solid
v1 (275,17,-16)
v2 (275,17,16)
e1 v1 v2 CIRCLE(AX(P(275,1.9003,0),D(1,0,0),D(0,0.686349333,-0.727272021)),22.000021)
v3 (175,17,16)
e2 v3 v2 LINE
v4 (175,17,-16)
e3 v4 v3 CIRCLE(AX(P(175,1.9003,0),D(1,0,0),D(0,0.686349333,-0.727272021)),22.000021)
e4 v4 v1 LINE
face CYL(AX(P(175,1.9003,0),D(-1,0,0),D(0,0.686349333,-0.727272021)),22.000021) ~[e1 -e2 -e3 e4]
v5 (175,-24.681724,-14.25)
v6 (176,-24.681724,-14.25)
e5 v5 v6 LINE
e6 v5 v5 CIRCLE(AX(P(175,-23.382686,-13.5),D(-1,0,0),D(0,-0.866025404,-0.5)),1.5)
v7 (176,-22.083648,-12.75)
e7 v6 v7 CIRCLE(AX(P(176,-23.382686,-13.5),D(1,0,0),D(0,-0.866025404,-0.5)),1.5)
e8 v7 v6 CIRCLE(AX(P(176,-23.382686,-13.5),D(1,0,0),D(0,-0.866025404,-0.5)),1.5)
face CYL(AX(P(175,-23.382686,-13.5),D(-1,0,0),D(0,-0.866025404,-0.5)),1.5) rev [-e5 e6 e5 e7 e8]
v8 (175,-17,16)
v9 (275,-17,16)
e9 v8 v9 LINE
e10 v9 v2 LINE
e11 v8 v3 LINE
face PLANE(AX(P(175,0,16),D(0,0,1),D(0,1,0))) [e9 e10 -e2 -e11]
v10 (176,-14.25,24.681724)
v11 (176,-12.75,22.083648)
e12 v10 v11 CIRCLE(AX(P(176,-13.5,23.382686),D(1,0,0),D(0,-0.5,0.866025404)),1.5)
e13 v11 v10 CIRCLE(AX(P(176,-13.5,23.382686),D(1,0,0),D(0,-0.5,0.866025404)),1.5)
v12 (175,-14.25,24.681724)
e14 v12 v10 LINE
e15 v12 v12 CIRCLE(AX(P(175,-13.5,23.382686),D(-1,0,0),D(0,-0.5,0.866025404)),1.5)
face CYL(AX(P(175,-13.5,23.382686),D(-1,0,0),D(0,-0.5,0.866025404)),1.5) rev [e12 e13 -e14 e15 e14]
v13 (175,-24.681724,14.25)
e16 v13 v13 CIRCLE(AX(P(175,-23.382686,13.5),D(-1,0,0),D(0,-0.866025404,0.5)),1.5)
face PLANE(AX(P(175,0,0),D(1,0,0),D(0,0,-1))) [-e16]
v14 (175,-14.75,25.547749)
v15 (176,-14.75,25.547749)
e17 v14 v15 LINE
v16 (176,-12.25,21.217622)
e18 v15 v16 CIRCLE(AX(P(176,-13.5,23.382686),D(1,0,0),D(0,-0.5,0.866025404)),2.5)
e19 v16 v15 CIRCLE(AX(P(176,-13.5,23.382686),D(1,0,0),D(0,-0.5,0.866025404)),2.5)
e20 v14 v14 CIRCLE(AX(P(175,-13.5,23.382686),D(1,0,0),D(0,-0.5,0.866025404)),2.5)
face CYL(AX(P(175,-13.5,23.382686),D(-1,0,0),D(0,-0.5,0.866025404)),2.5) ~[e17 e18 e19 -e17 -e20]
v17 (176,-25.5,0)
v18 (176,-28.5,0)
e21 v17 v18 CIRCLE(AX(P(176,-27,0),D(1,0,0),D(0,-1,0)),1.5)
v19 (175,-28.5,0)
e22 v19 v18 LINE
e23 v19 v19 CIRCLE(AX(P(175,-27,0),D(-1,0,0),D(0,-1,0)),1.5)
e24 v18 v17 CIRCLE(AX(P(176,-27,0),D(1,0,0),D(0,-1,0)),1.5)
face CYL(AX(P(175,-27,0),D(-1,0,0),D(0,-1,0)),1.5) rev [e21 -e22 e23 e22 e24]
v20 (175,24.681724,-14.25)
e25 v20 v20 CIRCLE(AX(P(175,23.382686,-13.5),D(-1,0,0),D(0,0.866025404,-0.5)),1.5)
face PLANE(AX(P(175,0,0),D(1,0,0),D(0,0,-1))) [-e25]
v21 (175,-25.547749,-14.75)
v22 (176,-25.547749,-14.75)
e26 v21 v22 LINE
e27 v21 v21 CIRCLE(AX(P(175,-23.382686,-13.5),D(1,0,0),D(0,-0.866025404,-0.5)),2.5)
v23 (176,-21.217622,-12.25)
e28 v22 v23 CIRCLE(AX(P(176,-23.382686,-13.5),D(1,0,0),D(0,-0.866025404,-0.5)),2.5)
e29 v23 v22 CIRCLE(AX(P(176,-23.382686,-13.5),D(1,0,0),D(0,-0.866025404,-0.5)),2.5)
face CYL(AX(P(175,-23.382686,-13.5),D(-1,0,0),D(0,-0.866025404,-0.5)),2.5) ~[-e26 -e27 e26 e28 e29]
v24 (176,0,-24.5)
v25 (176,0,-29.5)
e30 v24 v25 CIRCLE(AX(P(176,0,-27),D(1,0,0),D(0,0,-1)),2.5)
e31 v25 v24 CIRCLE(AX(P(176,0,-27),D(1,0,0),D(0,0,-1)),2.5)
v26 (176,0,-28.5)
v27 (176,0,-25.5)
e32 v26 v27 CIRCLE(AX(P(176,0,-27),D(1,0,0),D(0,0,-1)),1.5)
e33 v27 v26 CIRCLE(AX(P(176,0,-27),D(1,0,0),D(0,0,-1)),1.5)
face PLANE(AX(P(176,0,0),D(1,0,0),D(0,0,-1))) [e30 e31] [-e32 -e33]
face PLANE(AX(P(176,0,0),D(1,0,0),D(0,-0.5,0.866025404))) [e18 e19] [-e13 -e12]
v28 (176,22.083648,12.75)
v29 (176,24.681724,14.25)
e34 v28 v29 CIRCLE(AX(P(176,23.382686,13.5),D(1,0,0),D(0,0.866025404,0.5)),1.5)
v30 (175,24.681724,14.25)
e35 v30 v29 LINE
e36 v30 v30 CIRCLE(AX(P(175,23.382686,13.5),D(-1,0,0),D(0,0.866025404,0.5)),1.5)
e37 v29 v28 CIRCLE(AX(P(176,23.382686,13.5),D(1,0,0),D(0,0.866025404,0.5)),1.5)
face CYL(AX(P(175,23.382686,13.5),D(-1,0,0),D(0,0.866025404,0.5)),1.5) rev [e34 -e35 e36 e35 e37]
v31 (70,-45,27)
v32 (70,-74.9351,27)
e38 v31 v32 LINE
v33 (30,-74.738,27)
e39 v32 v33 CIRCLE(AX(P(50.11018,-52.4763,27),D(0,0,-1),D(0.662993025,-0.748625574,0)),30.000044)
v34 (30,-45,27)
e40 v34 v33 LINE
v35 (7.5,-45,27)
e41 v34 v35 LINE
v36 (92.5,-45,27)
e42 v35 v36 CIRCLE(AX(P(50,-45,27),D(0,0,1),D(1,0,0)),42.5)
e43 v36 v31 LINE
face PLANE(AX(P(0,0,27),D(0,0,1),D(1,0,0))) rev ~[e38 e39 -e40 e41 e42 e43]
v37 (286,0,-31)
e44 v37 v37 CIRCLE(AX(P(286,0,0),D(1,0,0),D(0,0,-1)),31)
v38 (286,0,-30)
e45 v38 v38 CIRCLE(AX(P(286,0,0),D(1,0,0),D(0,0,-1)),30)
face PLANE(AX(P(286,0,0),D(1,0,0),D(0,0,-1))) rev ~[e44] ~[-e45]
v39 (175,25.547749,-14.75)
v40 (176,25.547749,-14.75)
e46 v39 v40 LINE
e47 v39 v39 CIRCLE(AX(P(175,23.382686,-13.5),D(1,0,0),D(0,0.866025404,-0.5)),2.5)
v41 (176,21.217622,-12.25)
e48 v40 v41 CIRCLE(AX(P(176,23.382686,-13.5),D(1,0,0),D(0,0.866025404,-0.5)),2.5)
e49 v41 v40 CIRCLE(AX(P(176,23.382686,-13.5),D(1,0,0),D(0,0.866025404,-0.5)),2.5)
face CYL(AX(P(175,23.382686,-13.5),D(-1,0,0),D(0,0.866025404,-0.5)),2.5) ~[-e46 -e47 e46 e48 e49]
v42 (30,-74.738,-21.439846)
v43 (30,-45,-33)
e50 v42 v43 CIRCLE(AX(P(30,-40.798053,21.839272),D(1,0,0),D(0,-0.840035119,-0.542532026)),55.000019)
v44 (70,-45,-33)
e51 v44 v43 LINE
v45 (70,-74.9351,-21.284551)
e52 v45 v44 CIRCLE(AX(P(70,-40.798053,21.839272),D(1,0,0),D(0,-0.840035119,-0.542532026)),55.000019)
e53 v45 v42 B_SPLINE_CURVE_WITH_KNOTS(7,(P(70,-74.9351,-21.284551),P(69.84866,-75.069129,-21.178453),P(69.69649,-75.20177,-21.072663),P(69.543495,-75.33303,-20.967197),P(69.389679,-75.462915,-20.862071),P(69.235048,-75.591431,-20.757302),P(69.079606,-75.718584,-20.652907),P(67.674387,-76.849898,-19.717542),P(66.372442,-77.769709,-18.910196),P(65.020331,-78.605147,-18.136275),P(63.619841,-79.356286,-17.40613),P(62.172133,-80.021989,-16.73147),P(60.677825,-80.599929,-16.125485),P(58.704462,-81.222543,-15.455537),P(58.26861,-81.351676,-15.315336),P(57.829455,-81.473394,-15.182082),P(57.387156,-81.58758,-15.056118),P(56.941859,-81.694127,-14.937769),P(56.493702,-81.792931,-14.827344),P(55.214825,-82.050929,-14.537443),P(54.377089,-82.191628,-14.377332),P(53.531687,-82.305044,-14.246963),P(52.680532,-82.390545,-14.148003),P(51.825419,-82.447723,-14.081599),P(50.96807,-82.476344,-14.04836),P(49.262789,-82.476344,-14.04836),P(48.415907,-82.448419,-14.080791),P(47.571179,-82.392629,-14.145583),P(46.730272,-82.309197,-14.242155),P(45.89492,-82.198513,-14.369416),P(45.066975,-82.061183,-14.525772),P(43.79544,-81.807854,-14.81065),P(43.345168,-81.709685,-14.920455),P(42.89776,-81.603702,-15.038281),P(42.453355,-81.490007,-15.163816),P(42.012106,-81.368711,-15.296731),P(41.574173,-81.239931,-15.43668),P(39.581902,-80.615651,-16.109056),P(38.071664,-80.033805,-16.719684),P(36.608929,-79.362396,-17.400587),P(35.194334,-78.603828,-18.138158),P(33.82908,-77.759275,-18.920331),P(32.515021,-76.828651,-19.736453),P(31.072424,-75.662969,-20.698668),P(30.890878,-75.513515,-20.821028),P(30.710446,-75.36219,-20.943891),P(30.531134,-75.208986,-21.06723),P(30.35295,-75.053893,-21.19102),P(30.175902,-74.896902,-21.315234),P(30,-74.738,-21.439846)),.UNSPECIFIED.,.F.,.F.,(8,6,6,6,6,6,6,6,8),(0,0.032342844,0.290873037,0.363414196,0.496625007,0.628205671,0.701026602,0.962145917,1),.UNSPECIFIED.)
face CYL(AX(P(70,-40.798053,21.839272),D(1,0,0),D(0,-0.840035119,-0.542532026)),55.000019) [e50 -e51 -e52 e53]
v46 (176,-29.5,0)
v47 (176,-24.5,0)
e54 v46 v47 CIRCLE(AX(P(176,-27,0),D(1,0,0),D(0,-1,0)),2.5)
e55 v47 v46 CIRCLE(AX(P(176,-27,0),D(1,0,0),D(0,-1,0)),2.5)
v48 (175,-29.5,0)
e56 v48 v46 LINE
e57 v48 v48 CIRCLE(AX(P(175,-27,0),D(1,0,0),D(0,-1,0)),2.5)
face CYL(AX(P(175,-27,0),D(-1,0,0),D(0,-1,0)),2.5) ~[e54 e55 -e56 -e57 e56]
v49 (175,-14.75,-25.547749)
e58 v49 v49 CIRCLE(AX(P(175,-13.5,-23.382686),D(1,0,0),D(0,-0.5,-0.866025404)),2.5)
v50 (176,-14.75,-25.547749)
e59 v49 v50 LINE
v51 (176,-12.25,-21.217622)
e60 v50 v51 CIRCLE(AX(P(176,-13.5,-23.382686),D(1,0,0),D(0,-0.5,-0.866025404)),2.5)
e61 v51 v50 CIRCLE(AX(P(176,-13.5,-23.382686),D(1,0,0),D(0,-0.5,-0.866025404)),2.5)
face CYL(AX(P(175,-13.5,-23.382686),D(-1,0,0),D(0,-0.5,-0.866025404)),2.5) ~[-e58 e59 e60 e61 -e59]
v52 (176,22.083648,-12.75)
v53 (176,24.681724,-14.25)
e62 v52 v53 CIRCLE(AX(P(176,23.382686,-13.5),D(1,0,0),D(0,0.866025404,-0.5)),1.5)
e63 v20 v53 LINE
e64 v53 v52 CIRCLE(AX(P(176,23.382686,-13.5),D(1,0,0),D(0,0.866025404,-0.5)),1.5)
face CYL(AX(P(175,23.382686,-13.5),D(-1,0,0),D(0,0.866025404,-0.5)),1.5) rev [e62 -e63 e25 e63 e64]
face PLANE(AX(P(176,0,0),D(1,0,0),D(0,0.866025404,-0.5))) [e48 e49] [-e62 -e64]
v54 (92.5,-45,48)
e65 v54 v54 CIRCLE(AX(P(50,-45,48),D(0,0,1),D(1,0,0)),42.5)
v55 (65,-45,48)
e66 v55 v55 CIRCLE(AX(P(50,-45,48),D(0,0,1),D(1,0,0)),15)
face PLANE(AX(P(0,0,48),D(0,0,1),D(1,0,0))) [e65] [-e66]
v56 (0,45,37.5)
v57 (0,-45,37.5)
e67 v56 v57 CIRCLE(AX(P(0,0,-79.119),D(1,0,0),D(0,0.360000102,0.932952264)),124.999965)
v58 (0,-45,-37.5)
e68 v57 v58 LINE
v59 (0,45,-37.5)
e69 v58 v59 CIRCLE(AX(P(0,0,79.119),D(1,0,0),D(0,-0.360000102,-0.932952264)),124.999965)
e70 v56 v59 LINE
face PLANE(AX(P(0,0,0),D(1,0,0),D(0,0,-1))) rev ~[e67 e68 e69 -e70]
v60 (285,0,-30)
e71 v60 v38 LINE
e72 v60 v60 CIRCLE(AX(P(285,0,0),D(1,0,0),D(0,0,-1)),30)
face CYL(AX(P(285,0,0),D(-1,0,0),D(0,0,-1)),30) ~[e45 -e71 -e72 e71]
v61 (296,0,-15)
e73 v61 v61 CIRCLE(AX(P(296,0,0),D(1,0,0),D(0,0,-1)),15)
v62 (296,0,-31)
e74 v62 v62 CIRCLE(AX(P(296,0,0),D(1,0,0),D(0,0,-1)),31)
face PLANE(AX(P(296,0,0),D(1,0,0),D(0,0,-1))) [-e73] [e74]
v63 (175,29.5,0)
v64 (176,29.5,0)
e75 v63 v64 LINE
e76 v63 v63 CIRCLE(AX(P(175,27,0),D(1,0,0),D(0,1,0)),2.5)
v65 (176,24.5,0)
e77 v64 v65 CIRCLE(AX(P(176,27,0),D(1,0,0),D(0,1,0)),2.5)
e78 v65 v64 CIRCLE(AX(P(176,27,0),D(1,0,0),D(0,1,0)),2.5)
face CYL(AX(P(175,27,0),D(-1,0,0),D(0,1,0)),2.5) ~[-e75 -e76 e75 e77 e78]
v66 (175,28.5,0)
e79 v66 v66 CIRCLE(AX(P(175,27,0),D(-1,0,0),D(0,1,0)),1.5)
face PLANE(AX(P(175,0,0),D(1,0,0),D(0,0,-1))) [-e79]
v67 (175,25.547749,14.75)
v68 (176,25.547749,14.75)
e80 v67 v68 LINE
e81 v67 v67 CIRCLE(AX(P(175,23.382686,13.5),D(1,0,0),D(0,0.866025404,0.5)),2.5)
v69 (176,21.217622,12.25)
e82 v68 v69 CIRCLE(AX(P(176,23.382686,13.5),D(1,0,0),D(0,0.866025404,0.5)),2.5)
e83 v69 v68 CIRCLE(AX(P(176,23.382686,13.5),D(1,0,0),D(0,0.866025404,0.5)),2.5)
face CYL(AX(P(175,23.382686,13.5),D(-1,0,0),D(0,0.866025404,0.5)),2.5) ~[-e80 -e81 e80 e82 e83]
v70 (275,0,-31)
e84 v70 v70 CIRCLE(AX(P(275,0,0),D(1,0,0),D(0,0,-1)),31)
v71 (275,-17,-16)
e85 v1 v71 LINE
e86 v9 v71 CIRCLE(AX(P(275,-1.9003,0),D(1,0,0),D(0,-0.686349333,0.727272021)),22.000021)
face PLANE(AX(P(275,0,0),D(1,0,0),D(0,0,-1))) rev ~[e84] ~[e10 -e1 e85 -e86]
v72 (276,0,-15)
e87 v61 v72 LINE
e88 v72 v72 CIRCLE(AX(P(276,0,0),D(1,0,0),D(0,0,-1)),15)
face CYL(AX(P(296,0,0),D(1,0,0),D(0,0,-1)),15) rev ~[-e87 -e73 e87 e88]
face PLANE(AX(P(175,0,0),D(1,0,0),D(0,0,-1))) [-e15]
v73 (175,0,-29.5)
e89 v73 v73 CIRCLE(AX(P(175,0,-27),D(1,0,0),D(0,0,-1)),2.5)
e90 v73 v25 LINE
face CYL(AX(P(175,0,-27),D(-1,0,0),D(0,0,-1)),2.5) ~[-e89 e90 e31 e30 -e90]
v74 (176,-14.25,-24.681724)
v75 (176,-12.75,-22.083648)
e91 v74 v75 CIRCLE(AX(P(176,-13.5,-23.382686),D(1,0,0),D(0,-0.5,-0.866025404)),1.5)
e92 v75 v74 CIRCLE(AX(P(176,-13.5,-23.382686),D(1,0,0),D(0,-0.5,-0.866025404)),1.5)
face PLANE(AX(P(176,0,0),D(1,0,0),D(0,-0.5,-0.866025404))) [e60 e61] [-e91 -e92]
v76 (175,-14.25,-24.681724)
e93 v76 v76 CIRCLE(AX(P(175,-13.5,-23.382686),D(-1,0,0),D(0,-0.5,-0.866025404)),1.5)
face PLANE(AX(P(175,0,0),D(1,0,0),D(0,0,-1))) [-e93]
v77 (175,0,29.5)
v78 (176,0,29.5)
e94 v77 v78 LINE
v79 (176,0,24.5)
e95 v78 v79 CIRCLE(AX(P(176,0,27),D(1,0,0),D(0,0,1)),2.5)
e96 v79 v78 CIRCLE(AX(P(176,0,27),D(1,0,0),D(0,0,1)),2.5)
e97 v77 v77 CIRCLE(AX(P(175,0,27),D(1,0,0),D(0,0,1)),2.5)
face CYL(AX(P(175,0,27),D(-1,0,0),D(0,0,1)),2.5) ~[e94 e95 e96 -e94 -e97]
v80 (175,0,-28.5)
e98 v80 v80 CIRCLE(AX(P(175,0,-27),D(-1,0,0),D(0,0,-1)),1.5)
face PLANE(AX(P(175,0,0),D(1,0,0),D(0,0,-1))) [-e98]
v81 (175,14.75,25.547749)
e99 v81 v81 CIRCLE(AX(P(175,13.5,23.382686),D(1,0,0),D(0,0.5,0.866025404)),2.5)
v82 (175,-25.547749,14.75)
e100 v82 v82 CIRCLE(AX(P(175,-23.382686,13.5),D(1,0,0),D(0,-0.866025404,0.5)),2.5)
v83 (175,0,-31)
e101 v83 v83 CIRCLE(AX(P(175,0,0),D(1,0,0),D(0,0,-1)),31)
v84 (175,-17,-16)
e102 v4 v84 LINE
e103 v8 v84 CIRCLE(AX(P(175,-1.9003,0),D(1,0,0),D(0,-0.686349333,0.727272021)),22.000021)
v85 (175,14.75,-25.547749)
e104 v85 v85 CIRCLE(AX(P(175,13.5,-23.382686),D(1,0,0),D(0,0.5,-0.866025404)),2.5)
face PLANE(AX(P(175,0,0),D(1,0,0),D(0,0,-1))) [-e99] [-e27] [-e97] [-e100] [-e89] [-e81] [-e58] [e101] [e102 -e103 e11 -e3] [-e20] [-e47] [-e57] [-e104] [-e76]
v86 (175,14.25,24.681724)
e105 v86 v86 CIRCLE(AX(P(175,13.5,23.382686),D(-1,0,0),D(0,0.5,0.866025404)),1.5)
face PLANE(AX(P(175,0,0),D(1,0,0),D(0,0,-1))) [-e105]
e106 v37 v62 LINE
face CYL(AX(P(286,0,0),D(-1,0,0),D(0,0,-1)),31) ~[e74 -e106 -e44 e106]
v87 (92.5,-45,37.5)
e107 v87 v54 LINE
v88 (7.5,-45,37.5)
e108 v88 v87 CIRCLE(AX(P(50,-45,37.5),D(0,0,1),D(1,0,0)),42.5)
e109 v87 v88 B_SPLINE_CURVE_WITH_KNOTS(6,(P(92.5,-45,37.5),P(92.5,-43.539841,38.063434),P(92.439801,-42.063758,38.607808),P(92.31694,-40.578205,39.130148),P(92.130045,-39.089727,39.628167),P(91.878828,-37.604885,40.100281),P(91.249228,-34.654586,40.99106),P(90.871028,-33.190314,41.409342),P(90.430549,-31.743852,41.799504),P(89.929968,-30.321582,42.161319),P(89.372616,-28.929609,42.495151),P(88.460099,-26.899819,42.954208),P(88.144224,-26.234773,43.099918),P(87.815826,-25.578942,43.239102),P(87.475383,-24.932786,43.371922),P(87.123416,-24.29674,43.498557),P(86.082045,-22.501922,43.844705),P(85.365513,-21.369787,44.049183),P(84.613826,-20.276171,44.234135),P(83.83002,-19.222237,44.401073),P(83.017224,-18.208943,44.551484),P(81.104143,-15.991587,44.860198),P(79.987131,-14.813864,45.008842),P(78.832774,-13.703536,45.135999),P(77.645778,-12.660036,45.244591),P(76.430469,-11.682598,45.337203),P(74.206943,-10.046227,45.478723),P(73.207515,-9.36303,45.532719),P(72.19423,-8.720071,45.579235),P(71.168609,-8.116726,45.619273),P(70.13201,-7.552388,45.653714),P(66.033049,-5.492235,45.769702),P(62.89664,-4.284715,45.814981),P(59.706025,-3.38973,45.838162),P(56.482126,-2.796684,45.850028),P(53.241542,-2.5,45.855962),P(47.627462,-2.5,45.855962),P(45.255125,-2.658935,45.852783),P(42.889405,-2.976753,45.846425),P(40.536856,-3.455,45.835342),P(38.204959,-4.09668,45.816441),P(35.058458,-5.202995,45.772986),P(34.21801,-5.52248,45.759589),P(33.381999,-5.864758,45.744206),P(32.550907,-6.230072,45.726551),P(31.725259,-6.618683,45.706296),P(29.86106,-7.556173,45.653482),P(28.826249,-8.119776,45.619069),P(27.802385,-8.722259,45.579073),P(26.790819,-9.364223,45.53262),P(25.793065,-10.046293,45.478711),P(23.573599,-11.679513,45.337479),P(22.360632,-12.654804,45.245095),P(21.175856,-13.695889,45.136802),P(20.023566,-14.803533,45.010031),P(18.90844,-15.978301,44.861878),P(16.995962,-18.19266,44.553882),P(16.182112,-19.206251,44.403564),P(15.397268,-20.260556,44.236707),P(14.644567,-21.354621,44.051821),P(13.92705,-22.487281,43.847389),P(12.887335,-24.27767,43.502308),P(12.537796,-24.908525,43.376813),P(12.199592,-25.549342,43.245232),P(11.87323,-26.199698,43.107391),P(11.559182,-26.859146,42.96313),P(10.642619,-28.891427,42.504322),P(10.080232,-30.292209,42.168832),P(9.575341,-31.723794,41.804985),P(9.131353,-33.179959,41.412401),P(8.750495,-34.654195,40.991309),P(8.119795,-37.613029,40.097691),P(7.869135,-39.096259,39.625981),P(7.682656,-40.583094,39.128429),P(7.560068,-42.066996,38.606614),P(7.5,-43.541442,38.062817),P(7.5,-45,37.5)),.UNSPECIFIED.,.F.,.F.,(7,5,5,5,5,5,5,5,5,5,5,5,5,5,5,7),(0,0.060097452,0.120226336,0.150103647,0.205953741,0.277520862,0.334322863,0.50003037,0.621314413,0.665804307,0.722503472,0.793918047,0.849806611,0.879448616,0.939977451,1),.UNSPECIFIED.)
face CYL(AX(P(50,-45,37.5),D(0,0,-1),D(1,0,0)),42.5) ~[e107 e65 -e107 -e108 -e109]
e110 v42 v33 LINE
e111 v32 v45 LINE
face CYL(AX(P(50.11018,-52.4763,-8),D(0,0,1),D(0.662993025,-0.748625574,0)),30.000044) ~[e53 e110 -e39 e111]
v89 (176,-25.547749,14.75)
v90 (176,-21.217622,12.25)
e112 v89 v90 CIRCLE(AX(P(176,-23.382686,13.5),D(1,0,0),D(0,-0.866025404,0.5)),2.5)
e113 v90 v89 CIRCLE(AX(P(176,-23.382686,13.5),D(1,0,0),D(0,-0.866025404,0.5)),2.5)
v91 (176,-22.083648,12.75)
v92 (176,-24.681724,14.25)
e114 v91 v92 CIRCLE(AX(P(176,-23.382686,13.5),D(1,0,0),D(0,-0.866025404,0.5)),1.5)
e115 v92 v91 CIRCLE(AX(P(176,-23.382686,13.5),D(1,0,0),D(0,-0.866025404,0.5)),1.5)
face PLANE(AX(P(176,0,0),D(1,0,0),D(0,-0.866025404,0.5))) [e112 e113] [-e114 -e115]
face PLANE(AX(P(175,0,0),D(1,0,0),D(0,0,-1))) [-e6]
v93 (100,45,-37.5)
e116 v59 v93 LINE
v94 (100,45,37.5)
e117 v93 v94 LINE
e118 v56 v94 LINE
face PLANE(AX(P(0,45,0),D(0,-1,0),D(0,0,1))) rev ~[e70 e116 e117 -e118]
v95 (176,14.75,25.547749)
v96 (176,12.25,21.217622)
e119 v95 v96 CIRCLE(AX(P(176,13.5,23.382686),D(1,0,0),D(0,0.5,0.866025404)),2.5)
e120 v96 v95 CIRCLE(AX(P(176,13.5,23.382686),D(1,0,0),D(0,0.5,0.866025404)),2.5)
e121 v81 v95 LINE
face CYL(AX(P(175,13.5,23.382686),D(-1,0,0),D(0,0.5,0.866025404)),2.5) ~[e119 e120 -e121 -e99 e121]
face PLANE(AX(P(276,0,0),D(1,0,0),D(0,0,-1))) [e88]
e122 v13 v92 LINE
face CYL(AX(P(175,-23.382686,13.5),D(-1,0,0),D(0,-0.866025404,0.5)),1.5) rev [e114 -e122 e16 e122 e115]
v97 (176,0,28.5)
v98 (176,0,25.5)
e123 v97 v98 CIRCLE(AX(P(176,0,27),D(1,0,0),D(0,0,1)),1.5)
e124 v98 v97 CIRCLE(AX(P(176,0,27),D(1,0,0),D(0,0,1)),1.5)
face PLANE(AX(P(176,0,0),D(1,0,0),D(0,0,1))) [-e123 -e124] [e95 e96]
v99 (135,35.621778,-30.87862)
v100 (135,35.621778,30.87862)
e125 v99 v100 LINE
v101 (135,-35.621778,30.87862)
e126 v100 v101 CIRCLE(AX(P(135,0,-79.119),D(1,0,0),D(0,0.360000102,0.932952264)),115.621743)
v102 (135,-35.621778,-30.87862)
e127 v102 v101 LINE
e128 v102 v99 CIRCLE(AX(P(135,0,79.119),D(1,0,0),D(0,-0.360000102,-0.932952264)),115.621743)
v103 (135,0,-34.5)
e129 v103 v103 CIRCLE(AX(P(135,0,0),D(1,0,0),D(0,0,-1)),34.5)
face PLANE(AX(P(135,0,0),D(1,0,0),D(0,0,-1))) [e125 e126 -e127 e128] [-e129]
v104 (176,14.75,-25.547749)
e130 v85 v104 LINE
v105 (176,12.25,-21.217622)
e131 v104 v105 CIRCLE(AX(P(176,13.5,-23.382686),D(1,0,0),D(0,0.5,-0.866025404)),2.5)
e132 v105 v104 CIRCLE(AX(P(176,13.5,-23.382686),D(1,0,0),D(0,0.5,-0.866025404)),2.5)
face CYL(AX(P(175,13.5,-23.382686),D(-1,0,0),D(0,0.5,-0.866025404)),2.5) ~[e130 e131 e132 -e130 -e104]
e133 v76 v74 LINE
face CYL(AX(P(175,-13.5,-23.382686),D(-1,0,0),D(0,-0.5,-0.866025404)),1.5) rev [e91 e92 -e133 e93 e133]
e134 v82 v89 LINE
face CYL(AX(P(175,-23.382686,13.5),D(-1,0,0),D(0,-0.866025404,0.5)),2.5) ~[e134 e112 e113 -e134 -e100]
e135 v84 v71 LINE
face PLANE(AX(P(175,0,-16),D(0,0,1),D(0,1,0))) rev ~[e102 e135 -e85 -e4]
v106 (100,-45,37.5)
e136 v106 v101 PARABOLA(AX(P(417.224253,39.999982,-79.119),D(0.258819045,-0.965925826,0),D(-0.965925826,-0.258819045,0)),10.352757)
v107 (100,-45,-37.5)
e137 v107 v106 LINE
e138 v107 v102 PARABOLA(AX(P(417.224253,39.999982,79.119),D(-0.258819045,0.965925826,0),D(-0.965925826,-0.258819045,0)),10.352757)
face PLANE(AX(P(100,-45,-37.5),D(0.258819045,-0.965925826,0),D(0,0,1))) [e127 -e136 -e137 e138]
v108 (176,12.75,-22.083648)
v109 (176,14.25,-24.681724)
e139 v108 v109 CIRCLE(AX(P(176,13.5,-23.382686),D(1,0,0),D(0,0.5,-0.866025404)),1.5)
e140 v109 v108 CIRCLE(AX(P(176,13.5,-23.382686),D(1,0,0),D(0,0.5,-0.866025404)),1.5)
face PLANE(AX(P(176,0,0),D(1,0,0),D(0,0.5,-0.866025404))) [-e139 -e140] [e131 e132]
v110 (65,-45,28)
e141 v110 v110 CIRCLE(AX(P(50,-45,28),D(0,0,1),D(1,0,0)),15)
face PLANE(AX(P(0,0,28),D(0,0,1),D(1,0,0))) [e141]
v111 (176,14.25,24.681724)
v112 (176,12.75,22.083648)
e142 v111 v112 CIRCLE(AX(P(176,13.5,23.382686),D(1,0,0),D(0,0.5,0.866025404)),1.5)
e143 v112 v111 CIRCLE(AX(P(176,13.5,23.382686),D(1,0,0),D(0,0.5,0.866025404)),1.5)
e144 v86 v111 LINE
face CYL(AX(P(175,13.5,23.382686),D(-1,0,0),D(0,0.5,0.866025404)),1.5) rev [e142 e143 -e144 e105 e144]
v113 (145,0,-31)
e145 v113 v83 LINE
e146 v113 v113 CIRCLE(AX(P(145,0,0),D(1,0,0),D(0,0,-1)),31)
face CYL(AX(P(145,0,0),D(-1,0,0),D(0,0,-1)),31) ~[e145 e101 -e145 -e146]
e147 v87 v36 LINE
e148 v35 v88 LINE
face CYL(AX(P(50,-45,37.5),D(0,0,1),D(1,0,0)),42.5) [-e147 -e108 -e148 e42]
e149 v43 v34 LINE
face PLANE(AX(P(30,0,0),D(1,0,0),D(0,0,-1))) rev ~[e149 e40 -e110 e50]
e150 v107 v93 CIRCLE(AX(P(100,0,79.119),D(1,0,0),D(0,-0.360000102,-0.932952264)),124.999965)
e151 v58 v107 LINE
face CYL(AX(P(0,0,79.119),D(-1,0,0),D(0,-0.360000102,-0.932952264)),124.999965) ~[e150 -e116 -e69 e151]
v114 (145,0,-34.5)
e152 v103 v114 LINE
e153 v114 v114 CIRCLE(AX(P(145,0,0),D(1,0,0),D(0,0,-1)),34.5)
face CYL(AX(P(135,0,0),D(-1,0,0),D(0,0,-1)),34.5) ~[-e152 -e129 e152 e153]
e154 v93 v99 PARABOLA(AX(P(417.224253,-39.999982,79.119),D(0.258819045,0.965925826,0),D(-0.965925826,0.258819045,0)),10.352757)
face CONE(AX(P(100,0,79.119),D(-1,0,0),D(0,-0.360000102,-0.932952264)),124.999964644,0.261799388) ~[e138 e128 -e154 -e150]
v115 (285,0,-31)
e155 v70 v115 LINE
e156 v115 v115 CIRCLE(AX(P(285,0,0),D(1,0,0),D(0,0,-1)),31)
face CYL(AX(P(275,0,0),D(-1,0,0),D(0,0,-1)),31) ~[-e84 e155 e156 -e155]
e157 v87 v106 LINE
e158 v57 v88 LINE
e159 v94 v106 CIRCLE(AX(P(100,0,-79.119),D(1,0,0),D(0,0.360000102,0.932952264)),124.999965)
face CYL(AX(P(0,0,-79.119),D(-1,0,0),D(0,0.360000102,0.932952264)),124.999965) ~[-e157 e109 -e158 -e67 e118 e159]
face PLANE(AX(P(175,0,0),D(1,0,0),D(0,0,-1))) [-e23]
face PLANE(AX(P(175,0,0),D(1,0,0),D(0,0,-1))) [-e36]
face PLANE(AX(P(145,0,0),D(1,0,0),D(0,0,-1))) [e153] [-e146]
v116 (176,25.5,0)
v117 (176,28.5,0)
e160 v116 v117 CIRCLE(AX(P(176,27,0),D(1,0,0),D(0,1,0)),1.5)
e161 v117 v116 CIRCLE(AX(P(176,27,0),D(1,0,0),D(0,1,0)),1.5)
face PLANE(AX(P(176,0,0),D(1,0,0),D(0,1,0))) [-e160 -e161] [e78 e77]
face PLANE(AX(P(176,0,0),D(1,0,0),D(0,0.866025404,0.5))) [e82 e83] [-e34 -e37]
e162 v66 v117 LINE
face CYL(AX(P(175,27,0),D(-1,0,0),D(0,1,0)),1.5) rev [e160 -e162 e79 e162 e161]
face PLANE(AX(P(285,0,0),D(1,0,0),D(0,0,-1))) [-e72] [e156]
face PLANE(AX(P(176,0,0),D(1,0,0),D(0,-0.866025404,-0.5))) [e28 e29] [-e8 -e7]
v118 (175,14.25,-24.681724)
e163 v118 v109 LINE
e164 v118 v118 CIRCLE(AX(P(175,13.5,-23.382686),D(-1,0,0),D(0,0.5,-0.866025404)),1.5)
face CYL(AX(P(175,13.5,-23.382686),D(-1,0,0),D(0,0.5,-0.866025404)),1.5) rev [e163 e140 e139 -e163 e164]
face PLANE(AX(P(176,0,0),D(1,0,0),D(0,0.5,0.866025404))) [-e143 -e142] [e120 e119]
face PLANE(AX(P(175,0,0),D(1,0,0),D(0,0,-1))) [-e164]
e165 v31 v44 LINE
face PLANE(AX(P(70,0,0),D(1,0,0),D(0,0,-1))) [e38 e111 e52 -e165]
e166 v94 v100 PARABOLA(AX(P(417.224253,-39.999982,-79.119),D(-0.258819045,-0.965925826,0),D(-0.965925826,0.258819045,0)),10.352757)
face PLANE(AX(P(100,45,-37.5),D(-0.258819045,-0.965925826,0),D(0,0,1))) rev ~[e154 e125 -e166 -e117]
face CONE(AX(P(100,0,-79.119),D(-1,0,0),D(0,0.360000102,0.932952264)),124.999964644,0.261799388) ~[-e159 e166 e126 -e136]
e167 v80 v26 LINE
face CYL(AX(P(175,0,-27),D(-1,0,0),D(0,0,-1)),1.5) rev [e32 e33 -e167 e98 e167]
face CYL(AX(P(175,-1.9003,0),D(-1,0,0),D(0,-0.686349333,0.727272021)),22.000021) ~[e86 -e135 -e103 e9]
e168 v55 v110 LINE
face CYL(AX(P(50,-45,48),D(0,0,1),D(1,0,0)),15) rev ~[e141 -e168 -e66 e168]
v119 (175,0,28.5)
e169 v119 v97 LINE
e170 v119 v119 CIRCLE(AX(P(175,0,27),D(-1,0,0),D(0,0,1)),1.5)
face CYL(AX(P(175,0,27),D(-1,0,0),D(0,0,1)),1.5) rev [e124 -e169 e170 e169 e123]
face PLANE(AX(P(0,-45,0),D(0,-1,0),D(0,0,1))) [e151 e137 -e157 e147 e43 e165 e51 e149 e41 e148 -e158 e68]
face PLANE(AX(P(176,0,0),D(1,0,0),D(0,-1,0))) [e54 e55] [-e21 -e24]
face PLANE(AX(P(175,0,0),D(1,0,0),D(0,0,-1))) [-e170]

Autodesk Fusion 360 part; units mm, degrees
sketch "Sketch1" plane through (0, 0, 0) normal (1, 0, 0) x (0, 0, -1)
  line L0 (0, 0) -> (0, 45)
  line L1 (0, 0) -> (0, -45)
  line L2 (0, 45) -> (37.5, 45)
  line L3 (0, 45) -> (-37.5, 45)
  line L4 (0, -45) -> (37.5, -45)
  line L5 (0, -45) -> (-37.5, -45)
  arc A0 (-37.5, 45) -> (-37.5, -45) centre (79.119, 0) ccw
  arc A1 (37.5, -45) -> (37.5, 45) centre (-79.119, 0) ccw
  dimension "d1" = 45
  dimension "d2" = 45
  dimension "d3" = 37.5
  dimension "d4" = 37.5
  dimension "d5" = 37.5
  dimension "d6" = 37.5
  dimension "d8" = 125
extrude "Extrude1" add sketch "Sketch1" along normal blind 100
extrude "Extrude2" add 1 faces at (100, 3.0661, -15.1807) along direction (1, 0, 0) blind 35 draft -15
sketch "Sketch2" plane through (135, 0, 0) normal (1, 0, 0) x (0, 0, -1)
  line L0 (-30.8786, -35.6218) -> (30.8786, -35.6218)
  arc A0 (30.8786, -35.6218) -> (30.8786, 35.6218) centre (-79.119, 0) ccw
  line L1 (30.8786, 35.6218) -> (-30.8786, 35.6218)
  arc A1 (-30.8786, 35.6218) -> (-30.8786, -35.6218) centre (79.119, 0) ccw
  circle A2 centre (0, 0) radius 34.5
  dimension "d13" = 69
extrude "Extrude3" add sketch "Sketch2" along normal blind 10 contours A2
sketch "Sketch3" plane through (145, 0, 0) normal (1, 0, 0) x (0, 0, -1)
  circle A0 centre (0, 0) radius 34.5
  circle A1 centre (0, 0) radius 31
  dimension "d16" = 62
extrude "Extrude4" add sketch "Sketch3" along normal blind 30 contours A1
sketch "Sketch4" plane through (175, 0, 0) normal (1, 0, 0) x (0, 0, -1)
  circle A0 centre (0, 0) radius 31
  line L0 (0, 0) -> (27, 0)
  circle A1 centre (27, 0) radius 2.5
  circle A2 centre (27, 0) radius 1.5
  dimension "d19" = 27
  dimension "d20" = 5
  dimension "d21" = -1
extrude "Extrude5" add sketch "Sketch4" along normal blind 1 contours A1
pattern_circular "C-Pattern1" count 12 over 360 about axis through (175, 0, 0) along (1, 0, 0) of "Extrude5"
sketch "Sketch5" plane through (175, 0, 0) normal (1, 0, 0) x (0, 0, -1)
  circle A0 centre (27, 0) radius 2.5
  circle A1 centre (0, 0) radius 31
  circle A2 centre (23.3827, 13.5) radius 2.5
  circle A3 centre (13.5, 23.3827) radius 2.5
  circle A4 centre (0, 27) radius 2.5
  circle A5 centre (-13.5, 23.3827) radius 2.5
  circle A6 centre (-23.3827, 13.5) radius 2.5
  circle A7 centre (-27, 0) radius 2.5
  circle A8 centre (-23.3827, -13.5) radius 2.5
  circle A9 centre (-13.5, -23.3827) radius 2.5
  circle A10 centre (0, -27) radius 2.5
  circle A11 centre (13.5, -23.3827) radius 2.5
  circle A12 centre (23.3827, -13.5) radius 2.5
  line L0 (0, 0) -> (16, 0)
  line L1 (16, 0) -> (16, 17)
  line L2 (16, 0) -> (16, -17)
  line L3 (0, 0) -> (0, -8.0593)
  line L4 (-16, 0) -> (-16, 17)
  line L5 (-16, 0) -> (-16, -17)
  arc A13 (16, 17) -> (-16, 17) centre (0, 1.9003) ccw
  arc A14 (-16, -17) -> (16, -17) centre (0, -1.9003) ccw
  dimension "d26" = 16
  dimension "d27" = 17
  dimension "d28" = 17
  dimension "d29" = 22
extrude "Extrude6" add sketch "Sketch5" along normal blind 100 contours L1 L2 L4 L5 A13 A14
sketch "Sketch6" plane through (275, 0, 0) normal (1, 0, 0) x (0, 0, -1)
  line L0 (-16, 17) -> (-16, -17)
  arc A0 (-16, -17) -> (16, -17) centre (0, -1.9003) ccw
  line L1 (16, -17) -> (16, 17)
  arc A1 (16, 17) -> (-16, 17) centre (0, 1.9003) ccw
  circle A2 centre (0, 0) radius 31
  circle A3 centre (0, 0) radius 30
  dimension "d32" = 62
  dimension "d35" = -1
extrude "Extrude7" add sketch "Sketch6" along normal blind 10 contours L0 A0 L1 A1 | A2 | A3
sketch "Sketch7" plane through (285, 0, 0) normal (1, 0, 0) x (0, 0, -1)
  circle A0 centre (0, 0) radius 31
  circle A1 centre (0, 0) radius 30
  dimension "d36" = -1
extrude "Extrude8" add sketch "Sketch7" along normal blind 1 contours A1
sketch "Sketch8" plane through (286, 0, 0) normal (1, 0, 0) x (0, 0, -1)
  circle A0 centre (0, 0) radius 30
  circle A1 centre (0, 0) radius 31
  dimension "d39" = 62
extrude "Extrude9" add sketch "Sketch8" along normal blind 10 contours A0 | A1
ref_plane "WorkPlane1" through (0, 45, 37.5) normal (0, 0, 1) x (1, 0, 0)
sketch "Sketch9" plane through (0, 0, 37.5) normal (0, 0, 1) x (1, 0, 0)
  circle A0 centre (50, -45) radius 42.5
  dimension "d43" = 85
extrude "Extrude10" add sketch "Sketch9" along normal mid plane 21
sketch "Sketch10" plane through (0, 0, 27) normal (0, 0, -1) x (-1, 0, 0)
  line L0 (-7.5, -45) -> (-92.5, -45)
  arc A0 (-92.5, -45) -> (-7.5, -45) centre (-50, -45) ccw
  line L1 (-50, -45) -> (-50, -75)
  line L2 (-70, -45) -> (-70, -74.9351)
  line L3 (-30, -45) -> (-30, -74.738)
  arc A1 (-70, -74.9351) -> (-30, -74.738) centre (-50.1102, -52.4763) ccw
  dimension "d46" = 30
  dimension "d47" = 20
  dimension "d48" = -20
  dimension "d49" = 30
extrude "Extrude11" add sketch "Sketch10" along normal blind 35 contours L0 L2 L3 A1
sketch "Sketch11" plane through (70, 0, 0) normal (1, 0, 0) x (0, 0, -1)
  line L0 (-27, -45) -> (-27, -74.9351)
  line L1 (-27, -74.9351) -> (8, -74.9351)
  line L2 (8, -74.9351) -> (8, -45)
  line L3 (8, -45) -> (-27, -45)
  line L4 (8, -45) -> (33, -45)
  arc A0 (8, -87) -> (33, -45) centre (-21.8393, -40.7981) ccw
  line L5 (8, -45) -> (8, -87)
  dimension "d52" = 25
  dimension "d54" = 55
extrude "Extrude12" add sketch "Sketch11" against normal blind 40 contours L2 L4 A0 L5
extrude "Extrude13" cut 2 faces at (50.0367, -85.4921, -8) (30.0733, -74.8695, -8) along direction (0, 0, -1) blind 40
sketch "SideDiskHoleSketch" plane through (0, 0, 48) normal (0, 0, 1) x (1, 0, 0)
  circle A0 centre (50, -45) radius 42.5
  circle A1 centre (50, -45) radius 15
extrude "SideDiskHoleCut" cut sketch "SideDiskHoleSketch" against normal blind 20 contours A1
sketch "AxialEndHoleSketch" plane through (296, 0, 0) normal (1, 0, 0) x (0, 0, -1)
  circle A0 centre (0, 0) radius 31
  circle A1 centre (0, 0) radius 15
extrude "AxialEndHoleCut" cut sketch "AxialEndHoleSketch" against normal blind 20 contours A1
equation "d44 = ( 21 / 2 ) * 1 mm"
